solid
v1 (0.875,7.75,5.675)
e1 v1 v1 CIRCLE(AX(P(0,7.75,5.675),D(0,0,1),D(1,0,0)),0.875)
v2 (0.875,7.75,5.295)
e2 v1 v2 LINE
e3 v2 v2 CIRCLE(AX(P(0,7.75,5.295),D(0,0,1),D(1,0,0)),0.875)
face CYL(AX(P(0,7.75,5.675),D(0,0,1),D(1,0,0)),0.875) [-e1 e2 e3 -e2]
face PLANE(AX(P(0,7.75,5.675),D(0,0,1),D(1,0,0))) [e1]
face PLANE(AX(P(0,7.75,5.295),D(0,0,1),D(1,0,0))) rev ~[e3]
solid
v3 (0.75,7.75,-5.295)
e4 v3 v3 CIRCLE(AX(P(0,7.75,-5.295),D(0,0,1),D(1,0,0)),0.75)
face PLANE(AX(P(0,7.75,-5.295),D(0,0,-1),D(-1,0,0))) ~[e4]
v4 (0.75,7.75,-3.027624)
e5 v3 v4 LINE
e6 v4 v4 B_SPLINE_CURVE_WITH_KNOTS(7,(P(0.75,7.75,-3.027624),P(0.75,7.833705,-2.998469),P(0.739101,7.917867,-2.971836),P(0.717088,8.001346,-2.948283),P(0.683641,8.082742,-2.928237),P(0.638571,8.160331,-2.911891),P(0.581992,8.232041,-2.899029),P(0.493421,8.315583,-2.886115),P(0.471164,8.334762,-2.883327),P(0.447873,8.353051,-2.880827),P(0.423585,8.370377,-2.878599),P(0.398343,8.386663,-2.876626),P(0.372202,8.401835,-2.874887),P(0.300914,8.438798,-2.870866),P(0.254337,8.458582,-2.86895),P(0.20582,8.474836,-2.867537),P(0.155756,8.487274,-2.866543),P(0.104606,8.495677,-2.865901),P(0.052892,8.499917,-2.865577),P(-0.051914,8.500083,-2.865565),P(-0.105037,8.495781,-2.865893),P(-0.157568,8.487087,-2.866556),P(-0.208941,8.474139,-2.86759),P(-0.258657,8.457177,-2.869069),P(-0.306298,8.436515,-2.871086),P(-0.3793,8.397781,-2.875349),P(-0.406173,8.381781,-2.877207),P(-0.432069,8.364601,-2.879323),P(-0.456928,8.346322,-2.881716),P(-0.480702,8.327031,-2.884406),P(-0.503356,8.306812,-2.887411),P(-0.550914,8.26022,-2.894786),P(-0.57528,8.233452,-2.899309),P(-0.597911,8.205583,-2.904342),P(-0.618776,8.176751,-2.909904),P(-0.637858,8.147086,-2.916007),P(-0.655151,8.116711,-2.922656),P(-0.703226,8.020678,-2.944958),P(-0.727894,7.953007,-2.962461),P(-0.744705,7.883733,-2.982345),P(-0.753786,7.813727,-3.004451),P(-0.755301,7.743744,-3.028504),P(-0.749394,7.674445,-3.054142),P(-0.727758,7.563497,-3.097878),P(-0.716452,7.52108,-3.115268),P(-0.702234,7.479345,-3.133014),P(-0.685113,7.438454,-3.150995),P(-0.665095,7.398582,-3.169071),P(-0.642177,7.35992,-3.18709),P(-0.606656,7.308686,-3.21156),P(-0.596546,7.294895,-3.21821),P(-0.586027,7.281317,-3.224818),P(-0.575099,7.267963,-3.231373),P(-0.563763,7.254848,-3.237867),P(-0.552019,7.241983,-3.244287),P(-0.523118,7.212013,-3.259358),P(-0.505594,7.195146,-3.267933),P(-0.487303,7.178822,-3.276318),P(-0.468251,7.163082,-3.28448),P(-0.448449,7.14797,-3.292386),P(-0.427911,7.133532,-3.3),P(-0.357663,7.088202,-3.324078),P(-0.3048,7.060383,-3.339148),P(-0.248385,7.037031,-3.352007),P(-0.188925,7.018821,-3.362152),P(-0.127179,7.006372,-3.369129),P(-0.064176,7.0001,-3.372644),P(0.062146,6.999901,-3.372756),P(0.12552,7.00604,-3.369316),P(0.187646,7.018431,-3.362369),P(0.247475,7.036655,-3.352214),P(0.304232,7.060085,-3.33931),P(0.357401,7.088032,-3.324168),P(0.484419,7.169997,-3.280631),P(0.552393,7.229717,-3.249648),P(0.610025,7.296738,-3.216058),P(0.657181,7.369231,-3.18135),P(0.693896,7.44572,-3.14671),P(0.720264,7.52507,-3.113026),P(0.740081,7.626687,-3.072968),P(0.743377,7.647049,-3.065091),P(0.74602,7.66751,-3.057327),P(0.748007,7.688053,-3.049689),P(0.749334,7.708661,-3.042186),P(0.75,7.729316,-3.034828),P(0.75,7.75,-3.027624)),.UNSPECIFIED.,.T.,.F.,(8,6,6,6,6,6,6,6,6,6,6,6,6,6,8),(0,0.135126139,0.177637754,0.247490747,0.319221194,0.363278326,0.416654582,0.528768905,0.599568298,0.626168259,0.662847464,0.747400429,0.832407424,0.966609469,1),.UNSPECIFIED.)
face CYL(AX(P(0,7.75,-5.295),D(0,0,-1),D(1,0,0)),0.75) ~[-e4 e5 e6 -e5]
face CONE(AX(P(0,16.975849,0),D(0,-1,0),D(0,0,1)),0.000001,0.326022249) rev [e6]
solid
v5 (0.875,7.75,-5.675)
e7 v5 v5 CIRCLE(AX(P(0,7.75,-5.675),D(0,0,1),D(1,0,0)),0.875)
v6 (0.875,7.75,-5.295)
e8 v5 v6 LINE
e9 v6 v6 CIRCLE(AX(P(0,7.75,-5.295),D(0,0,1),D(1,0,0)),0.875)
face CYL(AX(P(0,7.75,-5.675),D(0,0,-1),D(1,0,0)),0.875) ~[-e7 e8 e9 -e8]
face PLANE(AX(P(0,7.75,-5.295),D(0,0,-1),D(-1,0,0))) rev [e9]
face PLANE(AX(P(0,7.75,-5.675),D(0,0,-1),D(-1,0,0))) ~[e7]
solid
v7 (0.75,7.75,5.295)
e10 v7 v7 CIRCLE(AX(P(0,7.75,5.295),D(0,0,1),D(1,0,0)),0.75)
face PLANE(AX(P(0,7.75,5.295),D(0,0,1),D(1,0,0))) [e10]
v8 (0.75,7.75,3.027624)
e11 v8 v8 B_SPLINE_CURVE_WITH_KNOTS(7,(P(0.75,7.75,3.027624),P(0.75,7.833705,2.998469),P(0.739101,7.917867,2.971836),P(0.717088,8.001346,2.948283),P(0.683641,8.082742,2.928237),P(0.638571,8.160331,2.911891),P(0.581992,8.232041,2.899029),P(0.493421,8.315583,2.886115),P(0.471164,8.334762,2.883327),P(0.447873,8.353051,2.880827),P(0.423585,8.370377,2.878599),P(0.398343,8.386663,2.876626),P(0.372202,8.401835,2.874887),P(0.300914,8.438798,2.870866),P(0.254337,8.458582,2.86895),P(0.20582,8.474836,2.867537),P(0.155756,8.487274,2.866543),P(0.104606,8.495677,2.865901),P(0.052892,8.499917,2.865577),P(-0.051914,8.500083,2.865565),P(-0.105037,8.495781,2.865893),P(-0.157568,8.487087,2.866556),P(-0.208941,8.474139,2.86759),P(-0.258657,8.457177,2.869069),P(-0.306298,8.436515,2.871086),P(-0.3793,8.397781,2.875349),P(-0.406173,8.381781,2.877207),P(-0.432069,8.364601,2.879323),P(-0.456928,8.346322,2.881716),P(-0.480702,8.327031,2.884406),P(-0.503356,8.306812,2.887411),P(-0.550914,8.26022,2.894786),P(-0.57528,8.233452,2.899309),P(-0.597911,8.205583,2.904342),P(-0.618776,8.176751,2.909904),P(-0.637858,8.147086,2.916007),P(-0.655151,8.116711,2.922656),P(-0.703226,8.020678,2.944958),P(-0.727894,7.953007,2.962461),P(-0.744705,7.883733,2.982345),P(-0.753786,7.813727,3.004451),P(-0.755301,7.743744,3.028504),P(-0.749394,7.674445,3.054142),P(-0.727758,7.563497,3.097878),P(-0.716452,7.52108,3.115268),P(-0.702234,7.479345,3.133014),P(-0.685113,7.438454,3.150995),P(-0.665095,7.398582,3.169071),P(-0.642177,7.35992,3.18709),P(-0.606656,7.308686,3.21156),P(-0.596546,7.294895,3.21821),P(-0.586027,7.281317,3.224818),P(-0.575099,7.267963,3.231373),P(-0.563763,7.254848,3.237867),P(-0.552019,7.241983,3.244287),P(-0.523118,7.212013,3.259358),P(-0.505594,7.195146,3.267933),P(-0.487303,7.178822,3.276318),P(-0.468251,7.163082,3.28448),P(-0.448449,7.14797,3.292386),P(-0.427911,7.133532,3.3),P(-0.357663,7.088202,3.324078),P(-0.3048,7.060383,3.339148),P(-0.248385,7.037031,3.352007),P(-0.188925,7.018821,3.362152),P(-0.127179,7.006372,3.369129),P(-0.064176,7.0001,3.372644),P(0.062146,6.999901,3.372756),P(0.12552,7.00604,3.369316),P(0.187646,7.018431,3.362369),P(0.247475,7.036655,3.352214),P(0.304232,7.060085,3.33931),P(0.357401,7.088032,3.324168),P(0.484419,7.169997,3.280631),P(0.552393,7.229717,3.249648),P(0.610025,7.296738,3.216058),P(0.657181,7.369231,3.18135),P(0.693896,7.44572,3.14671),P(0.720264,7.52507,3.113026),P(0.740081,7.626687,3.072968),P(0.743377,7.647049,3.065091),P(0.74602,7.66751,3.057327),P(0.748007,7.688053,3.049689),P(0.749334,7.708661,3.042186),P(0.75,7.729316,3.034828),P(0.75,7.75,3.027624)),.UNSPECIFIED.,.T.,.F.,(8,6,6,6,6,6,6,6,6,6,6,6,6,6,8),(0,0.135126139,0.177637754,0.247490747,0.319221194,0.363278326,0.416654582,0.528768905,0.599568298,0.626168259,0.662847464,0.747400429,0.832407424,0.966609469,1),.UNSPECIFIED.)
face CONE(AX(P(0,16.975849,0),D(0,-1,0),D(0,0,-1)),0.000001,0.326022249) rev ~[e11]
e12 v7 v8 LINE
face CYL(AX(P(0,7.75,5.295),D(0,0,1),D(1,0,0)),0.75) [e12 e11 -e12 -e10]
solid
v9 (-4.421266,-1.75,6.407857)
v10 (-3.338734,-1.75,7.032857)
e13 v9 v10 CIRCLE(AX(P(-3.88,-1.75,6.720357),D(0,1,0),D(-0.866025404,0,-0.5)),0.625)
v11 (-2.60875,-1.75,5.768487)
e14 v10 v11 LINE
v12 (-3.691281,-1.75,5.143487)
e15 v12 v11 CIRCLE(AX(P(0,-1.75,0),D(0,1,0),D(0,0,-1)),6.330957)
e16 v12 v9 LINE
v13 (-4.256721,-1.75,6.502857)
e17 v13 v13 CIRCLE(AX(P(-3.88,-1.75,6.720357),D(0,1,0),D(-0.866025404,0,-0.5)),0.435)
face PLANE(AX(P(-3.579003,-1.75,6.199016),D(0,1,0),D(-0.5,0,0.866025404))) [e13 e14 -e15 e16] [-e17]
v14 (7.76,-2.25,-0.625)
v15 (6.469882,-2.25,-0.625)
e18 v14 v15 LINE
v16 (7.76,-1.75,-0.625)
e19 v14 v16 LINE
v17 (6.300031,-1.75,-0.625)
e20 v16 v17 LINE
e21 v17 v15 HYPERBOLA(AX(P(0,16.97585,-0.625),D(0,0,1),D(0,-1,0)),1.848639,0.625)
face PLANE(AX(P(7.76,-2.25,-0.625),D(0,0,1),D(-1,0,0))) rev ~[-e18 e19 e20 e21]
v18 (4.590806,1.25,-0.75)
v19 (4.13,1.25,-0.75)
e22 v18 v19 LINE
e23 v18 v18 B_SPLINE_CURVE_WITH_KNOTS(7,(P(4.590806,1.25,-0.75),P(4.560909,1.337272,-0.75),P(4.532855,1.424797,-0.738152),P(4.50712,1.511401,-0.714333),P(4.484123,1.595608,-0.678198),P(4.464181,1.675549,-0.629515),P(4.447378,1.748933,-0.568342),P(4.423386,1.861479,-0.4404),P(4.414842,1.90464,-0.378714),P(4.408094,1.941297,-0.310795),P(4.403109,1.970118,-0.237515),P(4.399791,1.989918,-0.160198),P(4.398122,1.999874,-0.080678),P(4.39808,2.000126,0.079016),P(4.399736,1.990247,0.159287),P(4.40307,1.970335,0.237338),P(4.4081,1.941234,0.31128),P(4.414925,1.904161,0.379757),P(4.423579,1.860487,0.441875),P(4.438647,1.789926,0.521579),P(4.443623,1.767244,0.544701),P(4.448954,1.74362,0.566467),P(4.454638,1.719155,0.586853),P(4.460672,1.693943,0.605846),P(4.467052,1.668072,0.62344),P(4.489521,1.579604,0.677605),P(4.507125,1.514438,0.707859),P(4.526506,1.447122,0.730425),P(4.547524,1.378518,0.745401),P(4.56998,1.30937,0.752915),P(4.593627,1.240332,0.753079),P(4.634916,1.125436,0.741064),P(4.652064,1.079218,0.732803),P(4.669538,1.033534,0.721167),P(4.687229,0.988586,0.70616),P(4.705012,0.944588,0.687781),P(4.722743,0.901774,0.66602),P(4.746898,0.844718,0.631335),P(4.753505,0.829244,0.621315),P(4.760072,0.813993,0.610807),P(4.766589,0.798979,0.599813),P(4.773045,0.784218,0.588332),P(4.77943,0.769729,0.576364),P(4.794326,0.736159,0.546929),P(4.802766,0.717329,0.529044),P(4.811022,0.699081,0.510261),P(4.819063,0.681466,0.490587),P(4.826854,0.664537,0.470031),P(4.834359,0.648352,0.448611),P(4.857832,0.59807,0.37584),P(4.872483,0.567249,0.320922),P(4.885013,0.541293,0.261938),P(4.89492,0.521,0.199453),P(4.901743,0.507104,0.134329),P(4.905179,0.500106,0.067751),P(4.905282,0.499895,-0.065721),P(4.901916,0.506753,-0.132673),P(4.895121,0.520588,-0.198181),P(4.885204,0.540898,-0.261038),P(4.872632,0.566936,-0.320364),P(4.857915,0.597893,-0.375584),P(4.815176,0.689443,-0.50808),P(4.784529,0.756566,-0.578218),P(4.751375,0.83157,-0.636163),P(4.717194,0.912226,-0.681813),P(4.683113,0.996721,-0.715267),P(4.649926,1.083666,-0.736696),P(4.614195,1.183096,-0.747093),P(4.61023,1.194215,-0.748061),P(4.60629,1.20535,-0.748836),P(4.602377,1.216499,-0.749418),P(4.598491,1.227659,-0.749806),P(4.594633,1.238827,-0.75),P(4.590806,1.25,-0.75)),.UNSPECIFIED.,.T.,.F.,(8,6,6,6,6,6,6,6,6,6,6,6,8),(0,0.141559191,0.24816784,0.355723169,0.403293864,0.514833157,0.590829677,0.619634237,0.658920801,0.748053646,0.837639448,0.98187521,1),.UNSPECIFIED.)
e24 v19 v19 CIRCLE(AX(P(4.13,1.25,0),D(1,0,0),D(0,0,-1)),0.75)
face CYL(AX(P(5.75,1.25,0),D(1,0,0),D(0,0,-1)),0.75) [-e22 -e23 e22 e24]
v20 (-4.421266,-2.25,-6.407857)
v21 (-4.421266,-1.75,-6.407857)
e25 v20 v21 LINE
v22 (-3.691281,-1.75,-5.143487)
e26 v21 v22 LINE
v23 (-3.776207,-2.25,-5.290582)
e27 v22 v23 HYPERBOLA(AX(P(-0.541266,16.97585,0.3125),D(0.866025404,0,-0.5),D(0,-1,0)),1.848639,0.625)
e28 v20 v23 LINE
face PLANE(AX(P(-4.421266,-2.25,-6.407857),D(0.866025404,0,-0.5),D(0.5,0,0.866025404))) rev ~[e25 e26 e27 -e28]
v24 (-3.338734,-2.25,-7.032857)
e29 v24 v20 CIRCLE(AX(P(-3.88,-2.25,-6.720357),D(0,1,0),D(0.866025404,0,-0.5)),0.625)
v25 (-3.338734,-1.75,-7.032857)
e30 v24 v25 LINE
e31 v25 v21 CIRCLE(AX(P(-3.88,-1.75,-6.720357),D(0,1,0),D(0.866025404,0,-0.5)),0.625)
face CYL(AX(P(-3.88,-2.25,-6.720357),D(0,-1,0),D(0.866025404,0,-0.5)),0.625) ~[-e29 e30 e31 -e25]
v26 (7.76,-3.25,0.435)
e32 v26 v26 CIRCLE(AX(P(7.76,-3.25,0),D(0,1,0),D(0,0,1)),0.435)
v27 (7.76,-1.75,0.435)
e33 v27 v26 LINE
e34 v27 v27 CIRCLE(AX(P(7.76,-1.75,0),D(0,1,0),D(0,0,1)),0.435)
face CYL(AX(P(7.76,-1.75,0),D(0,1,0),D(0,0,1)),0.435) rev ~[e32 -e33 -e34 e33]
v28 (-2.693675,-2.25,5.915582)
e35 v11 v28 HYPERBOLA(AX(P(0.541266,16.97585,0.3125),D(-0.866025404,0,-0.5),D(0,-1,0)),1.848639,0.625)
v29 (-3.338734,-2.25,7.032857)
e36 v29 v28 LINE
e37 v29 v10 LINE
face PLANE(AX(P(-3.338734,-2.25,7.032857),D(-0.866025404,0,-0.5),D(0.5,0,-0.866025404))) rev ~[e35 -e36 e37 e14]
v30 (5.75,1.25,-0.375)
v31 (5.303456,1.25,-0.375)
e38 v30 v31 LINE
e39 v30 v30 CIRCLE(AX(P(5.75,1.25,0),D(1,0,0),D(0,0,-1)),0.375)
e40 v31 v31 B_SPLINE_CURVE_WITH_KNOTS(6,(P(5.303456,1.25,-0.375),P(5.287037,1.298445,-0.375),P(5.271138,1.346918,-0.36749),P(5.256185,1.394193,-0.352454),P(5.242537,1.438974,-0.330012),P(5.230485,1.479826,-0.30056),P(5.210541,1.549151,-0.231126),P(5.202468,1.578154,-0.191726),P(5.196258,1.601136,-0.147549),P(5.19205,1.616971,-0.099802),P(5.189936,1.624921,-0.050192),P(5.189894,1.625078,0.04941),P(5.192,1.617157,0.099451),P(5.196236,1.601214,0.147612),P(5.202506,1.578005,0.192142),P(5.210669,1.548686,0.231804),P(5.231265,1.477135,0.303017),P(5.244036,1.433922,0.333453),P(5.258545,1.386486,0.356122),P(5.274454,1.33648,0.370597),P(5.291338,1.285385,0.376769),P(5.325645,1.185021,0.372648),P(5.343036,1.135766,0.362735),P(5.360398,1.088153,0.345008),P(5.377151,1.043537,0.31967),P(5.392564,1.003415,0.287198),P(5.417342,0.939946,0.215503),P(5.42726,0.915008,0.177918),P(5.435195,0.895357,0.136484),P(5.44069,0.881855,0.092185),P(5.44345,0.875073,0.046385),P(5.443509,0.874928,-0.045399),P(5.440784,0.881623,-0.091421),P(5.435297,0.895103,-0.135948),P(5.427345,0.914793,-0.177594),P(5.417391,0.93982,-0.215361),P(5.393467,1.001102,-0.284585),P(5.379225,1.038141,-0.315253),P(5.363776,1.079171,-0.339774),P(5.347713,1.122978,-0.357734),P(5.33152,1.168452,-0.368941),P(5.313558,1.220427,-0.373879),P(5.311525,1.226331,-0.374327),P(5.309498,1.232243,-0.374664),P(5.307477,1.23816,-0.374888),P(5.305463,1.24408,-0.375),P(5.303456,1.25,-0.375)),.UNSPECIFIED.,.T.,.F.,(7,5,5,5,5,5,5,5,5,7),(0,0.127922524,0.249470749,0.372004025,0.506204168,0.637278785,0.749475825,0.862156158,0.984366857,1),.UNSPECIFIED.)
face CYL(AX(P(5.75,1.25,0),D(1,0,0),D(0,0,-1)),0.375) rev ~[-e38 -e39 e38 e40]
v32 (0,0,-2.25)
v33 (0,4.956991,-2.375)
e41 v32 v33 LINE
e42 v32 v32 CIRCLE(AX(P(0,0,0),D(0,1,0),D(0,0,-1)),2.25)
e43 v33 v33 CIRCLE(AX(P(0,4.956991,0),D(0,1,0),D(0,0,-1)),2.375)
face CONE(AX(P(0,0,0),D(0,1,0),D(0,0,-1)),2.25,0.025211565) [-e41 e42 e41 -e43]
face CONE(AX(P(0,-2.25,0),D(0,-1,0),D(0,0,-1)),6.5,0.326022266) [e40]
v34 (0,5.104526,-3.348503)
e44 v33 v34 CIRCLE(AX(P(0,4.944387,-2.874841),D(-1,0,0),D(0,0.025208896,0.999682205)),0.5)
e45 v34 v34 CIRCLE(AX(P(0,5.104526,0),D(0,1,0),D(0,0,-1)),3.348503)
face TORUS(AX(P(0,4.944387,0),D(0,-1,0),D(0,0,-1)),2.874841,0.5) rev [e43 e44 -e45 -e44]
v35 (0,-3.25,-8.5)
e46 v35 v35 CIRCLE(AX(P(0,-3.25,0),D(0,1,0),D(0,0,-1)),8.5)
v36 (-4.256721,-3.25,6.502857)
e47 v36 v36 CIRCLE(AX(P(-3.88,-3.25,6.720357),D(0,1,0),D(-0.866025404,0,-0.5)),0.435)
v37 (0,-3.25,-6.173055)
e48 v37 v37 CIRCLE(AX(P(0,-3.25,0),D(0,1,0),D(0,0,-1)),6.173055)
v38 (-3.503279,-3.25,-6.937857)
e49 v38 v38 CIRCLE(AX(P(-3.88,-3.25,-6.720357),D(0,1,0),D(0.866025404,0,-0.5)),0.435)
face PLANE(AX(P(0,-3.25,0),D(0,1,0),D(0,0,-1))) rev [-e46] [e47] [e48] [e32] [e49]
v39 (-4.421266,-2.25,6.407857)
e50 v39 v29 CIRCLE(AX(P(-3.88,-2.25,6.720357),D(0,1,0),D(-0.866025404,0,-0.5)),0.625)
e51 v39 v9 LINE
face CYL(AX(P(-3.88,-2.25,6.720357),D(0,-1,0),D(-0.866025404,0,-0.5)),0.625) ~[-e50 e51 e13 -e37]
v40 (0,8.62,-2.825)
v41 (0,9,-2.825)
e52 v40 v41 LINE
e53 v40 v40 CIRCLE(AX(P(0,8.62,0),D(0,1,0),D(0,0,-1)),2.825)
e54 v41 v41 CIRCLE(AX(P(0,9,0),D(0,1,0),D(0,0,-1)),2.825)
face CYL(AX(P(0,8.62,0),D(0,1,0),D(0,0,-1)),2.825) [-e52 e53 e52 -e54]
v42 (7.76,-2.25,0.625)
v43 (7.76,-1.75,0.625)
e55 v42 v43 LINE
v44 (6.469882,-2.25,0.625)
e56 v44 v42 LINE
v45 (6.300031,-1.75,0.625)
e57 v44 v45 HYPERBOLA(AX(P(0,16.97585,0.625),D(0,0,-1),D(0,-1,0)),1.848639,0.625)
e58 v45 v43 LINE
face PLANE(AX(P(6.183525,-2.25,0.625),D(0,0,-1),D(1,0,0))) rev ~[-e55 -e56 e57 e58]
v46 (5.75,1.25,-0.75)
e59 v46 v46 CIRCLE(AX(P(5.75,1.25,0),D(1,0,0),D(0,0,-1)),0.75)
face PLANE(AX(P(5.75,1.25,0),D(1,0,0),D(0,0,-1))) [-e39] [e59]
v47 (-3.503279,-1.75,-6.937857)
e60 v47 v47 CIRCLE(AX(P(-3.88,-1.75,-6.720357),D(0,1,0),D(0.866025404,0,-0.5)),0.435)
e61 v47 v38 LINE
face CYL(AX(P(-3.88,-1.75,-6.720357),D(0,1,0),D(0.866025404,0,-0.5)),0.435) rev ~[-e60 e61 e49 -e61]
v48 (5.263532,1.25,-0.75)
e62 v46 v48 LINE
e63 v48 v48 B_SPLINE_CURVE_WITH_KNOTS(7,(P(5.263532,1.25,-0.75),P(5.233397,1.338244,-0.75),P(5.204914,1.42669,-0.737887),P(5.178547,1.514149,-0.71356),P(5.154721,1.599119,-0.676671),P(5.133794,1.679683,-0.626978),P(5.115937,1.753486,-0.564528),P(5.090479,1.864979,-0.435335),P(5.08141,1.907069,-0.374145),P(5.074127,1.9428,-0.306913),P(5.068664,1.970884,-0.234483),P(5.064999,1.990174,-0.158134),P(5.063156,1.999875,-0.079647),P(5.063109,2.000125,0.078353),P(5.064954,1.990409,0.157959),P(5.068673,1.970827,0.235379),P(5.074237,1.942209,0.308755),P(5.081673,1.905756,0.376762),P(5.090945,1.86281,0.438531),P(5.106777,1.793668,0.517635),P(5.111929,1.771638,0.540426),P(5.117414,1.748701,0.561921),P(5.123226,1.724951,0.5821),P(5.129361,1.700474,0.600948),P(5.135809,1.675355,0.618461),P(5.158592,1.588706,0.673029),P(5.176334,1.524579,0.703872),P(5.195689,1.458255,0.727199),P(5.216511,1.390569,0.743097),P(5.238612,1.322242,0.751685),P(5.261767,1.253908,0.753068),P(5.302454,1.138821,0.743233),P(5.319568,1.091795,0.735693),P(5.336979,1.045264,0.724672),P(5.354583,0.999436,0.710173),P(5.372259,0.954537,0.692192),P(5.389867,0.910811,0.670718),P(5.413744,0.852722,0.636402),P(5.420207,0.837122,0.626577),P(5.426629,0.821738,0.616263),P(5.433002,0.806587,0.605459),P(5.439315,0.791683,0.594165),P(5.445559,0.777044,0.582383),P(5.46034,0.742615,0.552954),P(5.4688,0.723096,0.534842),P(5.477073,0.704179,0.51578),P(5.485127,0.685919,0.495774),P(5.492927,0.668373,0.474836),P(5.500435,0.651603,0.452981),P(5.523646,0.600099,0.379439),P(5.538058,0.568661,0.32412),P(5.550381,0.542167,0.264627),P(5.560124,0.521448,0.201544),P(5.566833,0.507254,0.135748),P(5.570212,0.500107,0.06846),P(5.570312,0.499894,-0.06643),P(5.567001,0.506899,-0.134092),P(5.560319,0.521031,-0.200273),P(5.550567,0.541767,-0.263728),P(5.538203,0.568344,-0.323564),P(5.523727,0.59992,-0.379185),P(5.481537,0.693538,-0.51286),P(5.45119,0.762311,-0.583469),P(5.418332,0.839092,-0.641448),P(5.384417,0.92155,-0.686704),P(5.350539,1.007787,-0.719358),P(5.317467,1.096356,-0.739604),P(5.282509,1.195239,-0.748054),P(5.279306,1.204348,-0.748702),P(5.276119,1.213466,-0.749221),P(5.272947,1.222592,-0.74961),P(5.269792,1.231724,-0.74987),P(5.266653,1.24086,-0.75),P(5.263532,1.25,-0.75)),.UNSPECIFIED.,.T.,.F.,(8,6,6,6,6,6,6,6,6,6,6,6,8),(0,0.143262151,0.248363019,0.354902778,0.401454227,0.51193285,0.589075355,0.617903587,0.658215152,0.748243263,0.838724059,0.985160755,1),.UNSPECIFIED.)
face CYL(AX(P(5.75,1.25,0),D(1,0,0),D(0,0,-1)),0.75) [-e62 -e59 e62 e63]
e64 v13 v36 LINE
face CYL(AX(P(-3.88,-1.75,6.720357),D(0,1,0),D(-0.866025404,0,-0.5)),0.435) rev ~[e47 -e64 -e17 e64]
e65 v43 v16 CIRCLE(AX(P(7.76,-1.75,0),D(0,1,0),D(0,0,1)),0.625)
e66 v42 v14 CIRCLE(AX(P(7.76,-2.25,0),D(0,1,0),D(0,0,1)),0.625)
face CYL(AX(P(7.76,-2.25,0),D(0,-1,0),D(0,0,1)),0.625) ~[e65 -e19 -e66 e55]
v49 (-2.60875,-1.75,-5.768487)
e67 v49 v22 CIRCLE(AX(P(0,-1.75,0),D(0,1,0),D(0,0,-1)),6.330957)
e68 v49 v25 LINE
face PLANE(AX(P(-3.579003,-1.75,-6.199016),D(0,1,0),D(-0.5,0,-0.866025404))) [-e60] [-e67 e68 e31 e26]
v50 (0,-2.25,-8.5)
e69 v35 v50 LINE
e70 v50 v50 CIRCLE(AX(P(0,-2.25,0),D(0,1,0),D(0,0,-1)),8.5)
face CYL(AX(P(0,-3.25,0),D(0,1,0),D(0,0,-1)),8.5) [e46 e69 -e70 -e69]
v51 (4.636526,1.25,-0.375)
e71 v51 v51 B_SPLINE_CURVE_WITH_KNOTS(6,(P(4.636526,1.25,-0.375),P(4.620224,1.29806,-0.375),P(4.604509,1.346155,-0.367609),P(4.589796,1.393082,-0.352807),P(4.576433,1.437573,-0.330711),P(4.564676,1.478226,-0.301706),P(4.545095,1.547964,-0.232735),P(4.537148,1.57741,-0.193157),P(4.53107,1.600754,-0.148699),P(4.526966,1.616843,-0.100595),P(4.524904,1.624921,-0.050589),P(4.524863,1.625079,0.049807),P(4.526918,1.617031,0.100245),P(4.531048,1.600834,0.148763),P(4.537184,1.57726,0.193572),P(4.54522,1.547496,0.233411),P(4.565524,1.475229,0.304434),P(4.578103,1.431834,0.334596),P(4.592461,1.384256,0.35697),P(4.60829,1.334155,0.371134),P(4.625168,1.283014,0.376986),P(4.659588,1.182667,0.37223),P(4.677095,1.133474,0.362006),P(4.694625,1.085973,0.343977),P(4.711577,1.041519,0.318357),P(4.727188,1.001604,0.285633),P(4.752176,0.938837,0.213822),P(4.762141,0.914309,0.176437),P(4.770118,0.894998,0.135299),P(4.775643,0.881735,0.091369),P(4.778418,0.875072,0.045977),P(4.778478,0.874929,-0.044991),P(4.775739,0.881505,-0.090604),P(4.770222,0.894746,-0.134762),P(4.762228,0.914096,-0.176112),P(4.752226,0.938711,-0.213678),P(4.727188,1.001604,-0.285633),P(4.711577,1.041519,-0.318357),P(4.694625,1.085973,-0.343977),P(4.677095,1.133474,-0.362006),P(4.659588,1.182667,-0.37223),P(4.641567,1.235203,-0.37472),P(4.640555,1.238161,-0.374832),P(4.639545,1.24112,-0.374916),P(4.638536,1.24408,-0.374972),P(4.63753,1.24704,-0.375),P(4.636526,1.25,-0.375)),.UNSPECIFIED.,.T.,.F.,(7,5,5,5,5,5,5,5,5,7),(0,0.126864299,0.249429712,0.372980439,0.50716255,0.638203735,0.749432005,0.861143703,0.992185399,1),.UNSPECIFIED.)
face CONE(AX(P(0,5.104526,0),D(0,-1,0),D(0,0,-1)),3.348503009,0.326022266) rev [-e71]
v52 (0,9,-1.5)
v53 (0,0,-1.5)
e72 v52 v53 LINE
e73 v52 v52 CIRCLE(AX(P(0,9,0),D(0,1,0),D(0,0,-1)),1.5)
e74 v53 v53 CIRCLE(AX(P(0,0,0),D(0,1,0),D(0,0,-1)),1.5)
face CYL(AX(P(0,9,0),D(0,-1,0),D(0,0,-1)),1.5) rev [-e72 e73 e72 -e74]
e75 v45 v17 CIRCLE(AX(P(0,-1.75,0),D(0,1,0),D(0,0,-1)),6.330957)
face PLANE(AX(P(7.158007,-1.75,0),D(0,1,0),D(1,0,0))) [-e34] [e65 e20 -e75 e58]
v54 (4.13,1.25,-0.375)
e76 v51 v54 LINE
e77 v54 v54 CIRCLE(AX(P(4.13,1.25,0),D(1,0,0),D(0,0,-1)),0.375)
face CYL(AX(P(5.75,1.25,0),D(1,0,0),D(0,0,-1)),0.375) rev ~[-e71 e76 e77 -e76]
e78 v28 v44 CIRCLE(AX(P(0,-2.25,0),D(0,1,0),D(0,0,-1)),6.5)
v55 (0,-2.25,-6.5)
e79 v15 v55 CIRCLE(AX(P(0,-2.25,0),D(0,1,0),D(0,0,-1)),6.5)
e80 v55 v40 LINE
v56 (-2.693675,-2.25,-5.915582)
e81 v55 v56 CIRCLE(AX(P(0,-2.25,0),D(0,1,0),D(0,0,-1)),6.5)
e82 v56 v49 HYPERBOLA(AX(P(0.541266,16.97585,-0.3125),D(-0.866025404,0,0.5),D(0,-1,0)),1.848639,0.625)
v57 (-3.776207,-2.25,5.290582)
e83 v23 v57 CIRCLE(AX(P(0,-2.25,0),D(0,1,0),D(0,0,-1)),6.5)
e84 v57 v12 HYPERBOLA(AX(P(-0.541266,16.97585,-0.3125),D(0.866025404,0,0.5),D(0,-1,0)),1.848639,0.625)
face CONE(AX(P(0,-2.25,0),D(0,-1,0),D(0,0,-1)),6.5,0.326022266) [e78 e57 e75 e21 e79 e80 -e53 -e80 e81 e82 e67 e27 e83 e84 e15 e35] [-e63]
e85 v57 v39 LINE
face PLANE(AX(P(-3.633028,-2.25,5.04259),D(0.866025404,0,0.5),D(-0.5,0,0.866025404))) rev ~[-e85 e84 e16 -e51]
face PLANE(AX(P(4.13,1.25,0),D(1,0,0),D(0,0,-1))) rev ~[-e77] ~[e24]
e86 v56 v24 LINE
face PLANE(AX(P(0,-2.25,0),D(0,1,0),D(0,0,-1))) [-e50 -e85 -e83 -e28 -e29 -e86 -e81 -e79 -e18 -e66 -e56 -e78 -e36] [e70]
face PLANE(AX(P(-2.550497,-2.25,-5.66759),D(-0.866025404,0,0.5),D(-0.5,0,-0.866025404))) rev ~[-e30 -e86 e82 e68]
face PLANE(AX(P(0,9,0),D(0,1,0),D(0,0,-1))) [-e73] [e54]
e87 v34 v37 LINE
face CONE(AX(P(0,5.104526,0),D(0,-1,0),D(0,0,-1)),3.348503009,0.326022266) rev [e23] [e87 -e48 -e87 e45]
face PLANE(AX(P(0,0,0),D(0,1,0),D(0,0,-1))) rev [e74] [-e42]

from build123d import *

# Parameters (mm, degrees)
BOSS_EXTRUDE1_START = 5.75
SKETCH5_R           = 0.75
SKETCH5_R_2         = 0.375
BOSS_EXTRUDE1_DEPTH = 1.62
BOSS_EXTRUDE2_DEPTH = 0.5
SKETCH10_R          = 0.435
CUT_EXTRUDE1_DEPTH  = 17.126453423
CIRPATTERN2_COUNT   = 3
BOSS_EXTRUDE4_START = 5.675
SKETCH11_R          = 0.875
BOSS_EXTRUDE4_DEPTH = 0.38
BOSS_EXTRUDE6_REACH = 22.312
BOSS_EXTRUDE6_START = 5.295
SKETCH11_5_R        = 0.75


with BuildPart() as part:
    # Sketch1 → Revolve1 (revolve)
    with BuildSketch(Plane.XY, mode=Mode.PRIVATE) as revolve1_sk:
        with BuildLine():
            Line((1.5, 0), (2.25, 0))
            Line((2.25, 0), (2.375, 4.956991452))
            ThreePointArc((2.375, 4.956991452), (2.799921643, 5.438742215), (3.348503009, 5.104525689))
            Line((3.348503009, 5.104525689), (6.173055163, -3.25))
            Line((6.173055163, -3.25), (8.5, -3.25))
            Line((8.5, -3.25), (8.5, -2.25))
            Line((8.5, -2.25), (6.5, -2.25))
            Line((6.5, -2.25), (2.825, 8.62))
            Line((2.825, 8.62), (2.825, 9))
            Line((2.825, 9), (1.5, 9))
            Line((1.5, 9), (1.5, 0))
        make_face()
    revolve(revolve1_sk.sketch.rotate(Axis((0, 0, 0), (0, 1, 0)), 90), axis=Axis((0, 0, 0), (0, 1, 0)))

    # Sketch5 → Boss-Extrude1 (add)
    with BuildSketch(Plane(origin=(0, 0, 0), x_dir=(0, 0, -1), z_dir=(1, 0, 0)).offset(BOSS_EXTRUDE1_START)):
        with Locations((0, 1.25)):
            Circle(SKETCH5_R)
        with Locations((0, 1.25)):
            Circle(SKETCH5_R_2, mode=Mode.SUBTRACT)
    extrude(amount=-BOSS_EXTRUDE1_DEPTH)

    # Sketch8 → Boss-Extrude2 (add)
    with BuildSketch(Plane(origin=(0, -2.25, 0), x_dir=(1, 0, 0), z_dir=(0, 1, 0))):
        with BuildLine():
            Line((7.76, 0.625), (6.183525085, 0.625))
            Line((6.183525085, 0.625), (6.183525085, -0.625))
            Line((6.183525085, -0.625), (7.76, -0.625))
            ThreePointArc((7.76, -0.625), (8.385, 0), (7.76, 0.625))
        make_face()
    boss_extrude2 = extrude(amount=BOSS_EXTRUDE2_DEPTH)

    # Sketch10 → Cut-Extrude1 (cut, through all)
    with BuildSketch(Plane(origin=(0, -1.75, 0), x_dir=(1, 0, 0), z_dir=(0, 1, 0))):
        with Locations(Location((7.76, 0, 0), (0, 0, 270))):
            Circle(SKETCH10_R)
    cut_extrude1 = extrude(amount=-CUT_EXTRUDE1_DEPTH, mode=Mode.SUBTRACT)

    # CirPattern2: Boss-Extrude2, Cut-Extrude1 ×3 about axis
    cirpattern2_axis = Axis((0, 0, 0), (0, 1, 0))
    add([boss_extrude2.rotate(cirpattern2_axis, i * 360 / CIRPATTERN2_COUNT) for i in range(1, CIRPATTERN2_COUNT)])
    add([cut_extrude1.rotate(cirpattern2_axis, i * 360 / CIRPATTERN2_COUNT) for i in range(1, CIRPATTERN2_COUNT)], mode=Mode.SUBTRACT)


with BuildPart() as body_2:
    # Sketch11 → Boss-Extrude4 (new body)
    with BuildSketch(Plane.XY.offset(BOSS_EXTRUDE4_START)):
        with Locations((0, 7.75)):
            Circle(SKETCH11_R)
    extrude(amount=-BOSS_EXTRUDE4_DEPTH)


with BuildPart() as body_3:
    # Boss-Extrude6: up to this cone (the profile starts outside it)
    boss_extrude6_end = Plane(origin=(0, 7.75, 0), z_dir=(0, -1, 0)).offset(-9.22584934) * Cone(1e-06, 11.886101379, 35.156984575, align=(Align.CENTER, Align.CENTER, Align.MIN), mode=Mode.PRIVATE)
    # Sketch11<5> → Boss-Extrude6 (new, up to the surface)
    with BuildSketch(Plane.XY.offset(BOSS_EXTRUDE6_START), mode=Mode.PRIVATE) as boss_extrude6_sk1:
        with Locations((0, 7.75)):
            Circle(SKETCH11_5_R)
    boss_extrude6_tool1 = extrude(boss_extrude6_sk1.sketch, amount=-BOSS_EXTRUDE6_REACH, mode=Mode.PRIVATE) - boss_extrude6_end
    add(boss_extrude6_tool1.solids().sort_by_distance((0, 7.75, 5.295))[0])


with BuildPart() as body_4:
    # Mirror5: mirrored copy
    add(body_3.part.mirror(Plane.XY))


with BuildPart() as body_5:
    # Mirror5 2: mirrored copy
    add(body_2.part.mirror(Plane.XY))


solid = Compound([part.part, body_2.part, body_3.part, body_4.part, body_5.part])
